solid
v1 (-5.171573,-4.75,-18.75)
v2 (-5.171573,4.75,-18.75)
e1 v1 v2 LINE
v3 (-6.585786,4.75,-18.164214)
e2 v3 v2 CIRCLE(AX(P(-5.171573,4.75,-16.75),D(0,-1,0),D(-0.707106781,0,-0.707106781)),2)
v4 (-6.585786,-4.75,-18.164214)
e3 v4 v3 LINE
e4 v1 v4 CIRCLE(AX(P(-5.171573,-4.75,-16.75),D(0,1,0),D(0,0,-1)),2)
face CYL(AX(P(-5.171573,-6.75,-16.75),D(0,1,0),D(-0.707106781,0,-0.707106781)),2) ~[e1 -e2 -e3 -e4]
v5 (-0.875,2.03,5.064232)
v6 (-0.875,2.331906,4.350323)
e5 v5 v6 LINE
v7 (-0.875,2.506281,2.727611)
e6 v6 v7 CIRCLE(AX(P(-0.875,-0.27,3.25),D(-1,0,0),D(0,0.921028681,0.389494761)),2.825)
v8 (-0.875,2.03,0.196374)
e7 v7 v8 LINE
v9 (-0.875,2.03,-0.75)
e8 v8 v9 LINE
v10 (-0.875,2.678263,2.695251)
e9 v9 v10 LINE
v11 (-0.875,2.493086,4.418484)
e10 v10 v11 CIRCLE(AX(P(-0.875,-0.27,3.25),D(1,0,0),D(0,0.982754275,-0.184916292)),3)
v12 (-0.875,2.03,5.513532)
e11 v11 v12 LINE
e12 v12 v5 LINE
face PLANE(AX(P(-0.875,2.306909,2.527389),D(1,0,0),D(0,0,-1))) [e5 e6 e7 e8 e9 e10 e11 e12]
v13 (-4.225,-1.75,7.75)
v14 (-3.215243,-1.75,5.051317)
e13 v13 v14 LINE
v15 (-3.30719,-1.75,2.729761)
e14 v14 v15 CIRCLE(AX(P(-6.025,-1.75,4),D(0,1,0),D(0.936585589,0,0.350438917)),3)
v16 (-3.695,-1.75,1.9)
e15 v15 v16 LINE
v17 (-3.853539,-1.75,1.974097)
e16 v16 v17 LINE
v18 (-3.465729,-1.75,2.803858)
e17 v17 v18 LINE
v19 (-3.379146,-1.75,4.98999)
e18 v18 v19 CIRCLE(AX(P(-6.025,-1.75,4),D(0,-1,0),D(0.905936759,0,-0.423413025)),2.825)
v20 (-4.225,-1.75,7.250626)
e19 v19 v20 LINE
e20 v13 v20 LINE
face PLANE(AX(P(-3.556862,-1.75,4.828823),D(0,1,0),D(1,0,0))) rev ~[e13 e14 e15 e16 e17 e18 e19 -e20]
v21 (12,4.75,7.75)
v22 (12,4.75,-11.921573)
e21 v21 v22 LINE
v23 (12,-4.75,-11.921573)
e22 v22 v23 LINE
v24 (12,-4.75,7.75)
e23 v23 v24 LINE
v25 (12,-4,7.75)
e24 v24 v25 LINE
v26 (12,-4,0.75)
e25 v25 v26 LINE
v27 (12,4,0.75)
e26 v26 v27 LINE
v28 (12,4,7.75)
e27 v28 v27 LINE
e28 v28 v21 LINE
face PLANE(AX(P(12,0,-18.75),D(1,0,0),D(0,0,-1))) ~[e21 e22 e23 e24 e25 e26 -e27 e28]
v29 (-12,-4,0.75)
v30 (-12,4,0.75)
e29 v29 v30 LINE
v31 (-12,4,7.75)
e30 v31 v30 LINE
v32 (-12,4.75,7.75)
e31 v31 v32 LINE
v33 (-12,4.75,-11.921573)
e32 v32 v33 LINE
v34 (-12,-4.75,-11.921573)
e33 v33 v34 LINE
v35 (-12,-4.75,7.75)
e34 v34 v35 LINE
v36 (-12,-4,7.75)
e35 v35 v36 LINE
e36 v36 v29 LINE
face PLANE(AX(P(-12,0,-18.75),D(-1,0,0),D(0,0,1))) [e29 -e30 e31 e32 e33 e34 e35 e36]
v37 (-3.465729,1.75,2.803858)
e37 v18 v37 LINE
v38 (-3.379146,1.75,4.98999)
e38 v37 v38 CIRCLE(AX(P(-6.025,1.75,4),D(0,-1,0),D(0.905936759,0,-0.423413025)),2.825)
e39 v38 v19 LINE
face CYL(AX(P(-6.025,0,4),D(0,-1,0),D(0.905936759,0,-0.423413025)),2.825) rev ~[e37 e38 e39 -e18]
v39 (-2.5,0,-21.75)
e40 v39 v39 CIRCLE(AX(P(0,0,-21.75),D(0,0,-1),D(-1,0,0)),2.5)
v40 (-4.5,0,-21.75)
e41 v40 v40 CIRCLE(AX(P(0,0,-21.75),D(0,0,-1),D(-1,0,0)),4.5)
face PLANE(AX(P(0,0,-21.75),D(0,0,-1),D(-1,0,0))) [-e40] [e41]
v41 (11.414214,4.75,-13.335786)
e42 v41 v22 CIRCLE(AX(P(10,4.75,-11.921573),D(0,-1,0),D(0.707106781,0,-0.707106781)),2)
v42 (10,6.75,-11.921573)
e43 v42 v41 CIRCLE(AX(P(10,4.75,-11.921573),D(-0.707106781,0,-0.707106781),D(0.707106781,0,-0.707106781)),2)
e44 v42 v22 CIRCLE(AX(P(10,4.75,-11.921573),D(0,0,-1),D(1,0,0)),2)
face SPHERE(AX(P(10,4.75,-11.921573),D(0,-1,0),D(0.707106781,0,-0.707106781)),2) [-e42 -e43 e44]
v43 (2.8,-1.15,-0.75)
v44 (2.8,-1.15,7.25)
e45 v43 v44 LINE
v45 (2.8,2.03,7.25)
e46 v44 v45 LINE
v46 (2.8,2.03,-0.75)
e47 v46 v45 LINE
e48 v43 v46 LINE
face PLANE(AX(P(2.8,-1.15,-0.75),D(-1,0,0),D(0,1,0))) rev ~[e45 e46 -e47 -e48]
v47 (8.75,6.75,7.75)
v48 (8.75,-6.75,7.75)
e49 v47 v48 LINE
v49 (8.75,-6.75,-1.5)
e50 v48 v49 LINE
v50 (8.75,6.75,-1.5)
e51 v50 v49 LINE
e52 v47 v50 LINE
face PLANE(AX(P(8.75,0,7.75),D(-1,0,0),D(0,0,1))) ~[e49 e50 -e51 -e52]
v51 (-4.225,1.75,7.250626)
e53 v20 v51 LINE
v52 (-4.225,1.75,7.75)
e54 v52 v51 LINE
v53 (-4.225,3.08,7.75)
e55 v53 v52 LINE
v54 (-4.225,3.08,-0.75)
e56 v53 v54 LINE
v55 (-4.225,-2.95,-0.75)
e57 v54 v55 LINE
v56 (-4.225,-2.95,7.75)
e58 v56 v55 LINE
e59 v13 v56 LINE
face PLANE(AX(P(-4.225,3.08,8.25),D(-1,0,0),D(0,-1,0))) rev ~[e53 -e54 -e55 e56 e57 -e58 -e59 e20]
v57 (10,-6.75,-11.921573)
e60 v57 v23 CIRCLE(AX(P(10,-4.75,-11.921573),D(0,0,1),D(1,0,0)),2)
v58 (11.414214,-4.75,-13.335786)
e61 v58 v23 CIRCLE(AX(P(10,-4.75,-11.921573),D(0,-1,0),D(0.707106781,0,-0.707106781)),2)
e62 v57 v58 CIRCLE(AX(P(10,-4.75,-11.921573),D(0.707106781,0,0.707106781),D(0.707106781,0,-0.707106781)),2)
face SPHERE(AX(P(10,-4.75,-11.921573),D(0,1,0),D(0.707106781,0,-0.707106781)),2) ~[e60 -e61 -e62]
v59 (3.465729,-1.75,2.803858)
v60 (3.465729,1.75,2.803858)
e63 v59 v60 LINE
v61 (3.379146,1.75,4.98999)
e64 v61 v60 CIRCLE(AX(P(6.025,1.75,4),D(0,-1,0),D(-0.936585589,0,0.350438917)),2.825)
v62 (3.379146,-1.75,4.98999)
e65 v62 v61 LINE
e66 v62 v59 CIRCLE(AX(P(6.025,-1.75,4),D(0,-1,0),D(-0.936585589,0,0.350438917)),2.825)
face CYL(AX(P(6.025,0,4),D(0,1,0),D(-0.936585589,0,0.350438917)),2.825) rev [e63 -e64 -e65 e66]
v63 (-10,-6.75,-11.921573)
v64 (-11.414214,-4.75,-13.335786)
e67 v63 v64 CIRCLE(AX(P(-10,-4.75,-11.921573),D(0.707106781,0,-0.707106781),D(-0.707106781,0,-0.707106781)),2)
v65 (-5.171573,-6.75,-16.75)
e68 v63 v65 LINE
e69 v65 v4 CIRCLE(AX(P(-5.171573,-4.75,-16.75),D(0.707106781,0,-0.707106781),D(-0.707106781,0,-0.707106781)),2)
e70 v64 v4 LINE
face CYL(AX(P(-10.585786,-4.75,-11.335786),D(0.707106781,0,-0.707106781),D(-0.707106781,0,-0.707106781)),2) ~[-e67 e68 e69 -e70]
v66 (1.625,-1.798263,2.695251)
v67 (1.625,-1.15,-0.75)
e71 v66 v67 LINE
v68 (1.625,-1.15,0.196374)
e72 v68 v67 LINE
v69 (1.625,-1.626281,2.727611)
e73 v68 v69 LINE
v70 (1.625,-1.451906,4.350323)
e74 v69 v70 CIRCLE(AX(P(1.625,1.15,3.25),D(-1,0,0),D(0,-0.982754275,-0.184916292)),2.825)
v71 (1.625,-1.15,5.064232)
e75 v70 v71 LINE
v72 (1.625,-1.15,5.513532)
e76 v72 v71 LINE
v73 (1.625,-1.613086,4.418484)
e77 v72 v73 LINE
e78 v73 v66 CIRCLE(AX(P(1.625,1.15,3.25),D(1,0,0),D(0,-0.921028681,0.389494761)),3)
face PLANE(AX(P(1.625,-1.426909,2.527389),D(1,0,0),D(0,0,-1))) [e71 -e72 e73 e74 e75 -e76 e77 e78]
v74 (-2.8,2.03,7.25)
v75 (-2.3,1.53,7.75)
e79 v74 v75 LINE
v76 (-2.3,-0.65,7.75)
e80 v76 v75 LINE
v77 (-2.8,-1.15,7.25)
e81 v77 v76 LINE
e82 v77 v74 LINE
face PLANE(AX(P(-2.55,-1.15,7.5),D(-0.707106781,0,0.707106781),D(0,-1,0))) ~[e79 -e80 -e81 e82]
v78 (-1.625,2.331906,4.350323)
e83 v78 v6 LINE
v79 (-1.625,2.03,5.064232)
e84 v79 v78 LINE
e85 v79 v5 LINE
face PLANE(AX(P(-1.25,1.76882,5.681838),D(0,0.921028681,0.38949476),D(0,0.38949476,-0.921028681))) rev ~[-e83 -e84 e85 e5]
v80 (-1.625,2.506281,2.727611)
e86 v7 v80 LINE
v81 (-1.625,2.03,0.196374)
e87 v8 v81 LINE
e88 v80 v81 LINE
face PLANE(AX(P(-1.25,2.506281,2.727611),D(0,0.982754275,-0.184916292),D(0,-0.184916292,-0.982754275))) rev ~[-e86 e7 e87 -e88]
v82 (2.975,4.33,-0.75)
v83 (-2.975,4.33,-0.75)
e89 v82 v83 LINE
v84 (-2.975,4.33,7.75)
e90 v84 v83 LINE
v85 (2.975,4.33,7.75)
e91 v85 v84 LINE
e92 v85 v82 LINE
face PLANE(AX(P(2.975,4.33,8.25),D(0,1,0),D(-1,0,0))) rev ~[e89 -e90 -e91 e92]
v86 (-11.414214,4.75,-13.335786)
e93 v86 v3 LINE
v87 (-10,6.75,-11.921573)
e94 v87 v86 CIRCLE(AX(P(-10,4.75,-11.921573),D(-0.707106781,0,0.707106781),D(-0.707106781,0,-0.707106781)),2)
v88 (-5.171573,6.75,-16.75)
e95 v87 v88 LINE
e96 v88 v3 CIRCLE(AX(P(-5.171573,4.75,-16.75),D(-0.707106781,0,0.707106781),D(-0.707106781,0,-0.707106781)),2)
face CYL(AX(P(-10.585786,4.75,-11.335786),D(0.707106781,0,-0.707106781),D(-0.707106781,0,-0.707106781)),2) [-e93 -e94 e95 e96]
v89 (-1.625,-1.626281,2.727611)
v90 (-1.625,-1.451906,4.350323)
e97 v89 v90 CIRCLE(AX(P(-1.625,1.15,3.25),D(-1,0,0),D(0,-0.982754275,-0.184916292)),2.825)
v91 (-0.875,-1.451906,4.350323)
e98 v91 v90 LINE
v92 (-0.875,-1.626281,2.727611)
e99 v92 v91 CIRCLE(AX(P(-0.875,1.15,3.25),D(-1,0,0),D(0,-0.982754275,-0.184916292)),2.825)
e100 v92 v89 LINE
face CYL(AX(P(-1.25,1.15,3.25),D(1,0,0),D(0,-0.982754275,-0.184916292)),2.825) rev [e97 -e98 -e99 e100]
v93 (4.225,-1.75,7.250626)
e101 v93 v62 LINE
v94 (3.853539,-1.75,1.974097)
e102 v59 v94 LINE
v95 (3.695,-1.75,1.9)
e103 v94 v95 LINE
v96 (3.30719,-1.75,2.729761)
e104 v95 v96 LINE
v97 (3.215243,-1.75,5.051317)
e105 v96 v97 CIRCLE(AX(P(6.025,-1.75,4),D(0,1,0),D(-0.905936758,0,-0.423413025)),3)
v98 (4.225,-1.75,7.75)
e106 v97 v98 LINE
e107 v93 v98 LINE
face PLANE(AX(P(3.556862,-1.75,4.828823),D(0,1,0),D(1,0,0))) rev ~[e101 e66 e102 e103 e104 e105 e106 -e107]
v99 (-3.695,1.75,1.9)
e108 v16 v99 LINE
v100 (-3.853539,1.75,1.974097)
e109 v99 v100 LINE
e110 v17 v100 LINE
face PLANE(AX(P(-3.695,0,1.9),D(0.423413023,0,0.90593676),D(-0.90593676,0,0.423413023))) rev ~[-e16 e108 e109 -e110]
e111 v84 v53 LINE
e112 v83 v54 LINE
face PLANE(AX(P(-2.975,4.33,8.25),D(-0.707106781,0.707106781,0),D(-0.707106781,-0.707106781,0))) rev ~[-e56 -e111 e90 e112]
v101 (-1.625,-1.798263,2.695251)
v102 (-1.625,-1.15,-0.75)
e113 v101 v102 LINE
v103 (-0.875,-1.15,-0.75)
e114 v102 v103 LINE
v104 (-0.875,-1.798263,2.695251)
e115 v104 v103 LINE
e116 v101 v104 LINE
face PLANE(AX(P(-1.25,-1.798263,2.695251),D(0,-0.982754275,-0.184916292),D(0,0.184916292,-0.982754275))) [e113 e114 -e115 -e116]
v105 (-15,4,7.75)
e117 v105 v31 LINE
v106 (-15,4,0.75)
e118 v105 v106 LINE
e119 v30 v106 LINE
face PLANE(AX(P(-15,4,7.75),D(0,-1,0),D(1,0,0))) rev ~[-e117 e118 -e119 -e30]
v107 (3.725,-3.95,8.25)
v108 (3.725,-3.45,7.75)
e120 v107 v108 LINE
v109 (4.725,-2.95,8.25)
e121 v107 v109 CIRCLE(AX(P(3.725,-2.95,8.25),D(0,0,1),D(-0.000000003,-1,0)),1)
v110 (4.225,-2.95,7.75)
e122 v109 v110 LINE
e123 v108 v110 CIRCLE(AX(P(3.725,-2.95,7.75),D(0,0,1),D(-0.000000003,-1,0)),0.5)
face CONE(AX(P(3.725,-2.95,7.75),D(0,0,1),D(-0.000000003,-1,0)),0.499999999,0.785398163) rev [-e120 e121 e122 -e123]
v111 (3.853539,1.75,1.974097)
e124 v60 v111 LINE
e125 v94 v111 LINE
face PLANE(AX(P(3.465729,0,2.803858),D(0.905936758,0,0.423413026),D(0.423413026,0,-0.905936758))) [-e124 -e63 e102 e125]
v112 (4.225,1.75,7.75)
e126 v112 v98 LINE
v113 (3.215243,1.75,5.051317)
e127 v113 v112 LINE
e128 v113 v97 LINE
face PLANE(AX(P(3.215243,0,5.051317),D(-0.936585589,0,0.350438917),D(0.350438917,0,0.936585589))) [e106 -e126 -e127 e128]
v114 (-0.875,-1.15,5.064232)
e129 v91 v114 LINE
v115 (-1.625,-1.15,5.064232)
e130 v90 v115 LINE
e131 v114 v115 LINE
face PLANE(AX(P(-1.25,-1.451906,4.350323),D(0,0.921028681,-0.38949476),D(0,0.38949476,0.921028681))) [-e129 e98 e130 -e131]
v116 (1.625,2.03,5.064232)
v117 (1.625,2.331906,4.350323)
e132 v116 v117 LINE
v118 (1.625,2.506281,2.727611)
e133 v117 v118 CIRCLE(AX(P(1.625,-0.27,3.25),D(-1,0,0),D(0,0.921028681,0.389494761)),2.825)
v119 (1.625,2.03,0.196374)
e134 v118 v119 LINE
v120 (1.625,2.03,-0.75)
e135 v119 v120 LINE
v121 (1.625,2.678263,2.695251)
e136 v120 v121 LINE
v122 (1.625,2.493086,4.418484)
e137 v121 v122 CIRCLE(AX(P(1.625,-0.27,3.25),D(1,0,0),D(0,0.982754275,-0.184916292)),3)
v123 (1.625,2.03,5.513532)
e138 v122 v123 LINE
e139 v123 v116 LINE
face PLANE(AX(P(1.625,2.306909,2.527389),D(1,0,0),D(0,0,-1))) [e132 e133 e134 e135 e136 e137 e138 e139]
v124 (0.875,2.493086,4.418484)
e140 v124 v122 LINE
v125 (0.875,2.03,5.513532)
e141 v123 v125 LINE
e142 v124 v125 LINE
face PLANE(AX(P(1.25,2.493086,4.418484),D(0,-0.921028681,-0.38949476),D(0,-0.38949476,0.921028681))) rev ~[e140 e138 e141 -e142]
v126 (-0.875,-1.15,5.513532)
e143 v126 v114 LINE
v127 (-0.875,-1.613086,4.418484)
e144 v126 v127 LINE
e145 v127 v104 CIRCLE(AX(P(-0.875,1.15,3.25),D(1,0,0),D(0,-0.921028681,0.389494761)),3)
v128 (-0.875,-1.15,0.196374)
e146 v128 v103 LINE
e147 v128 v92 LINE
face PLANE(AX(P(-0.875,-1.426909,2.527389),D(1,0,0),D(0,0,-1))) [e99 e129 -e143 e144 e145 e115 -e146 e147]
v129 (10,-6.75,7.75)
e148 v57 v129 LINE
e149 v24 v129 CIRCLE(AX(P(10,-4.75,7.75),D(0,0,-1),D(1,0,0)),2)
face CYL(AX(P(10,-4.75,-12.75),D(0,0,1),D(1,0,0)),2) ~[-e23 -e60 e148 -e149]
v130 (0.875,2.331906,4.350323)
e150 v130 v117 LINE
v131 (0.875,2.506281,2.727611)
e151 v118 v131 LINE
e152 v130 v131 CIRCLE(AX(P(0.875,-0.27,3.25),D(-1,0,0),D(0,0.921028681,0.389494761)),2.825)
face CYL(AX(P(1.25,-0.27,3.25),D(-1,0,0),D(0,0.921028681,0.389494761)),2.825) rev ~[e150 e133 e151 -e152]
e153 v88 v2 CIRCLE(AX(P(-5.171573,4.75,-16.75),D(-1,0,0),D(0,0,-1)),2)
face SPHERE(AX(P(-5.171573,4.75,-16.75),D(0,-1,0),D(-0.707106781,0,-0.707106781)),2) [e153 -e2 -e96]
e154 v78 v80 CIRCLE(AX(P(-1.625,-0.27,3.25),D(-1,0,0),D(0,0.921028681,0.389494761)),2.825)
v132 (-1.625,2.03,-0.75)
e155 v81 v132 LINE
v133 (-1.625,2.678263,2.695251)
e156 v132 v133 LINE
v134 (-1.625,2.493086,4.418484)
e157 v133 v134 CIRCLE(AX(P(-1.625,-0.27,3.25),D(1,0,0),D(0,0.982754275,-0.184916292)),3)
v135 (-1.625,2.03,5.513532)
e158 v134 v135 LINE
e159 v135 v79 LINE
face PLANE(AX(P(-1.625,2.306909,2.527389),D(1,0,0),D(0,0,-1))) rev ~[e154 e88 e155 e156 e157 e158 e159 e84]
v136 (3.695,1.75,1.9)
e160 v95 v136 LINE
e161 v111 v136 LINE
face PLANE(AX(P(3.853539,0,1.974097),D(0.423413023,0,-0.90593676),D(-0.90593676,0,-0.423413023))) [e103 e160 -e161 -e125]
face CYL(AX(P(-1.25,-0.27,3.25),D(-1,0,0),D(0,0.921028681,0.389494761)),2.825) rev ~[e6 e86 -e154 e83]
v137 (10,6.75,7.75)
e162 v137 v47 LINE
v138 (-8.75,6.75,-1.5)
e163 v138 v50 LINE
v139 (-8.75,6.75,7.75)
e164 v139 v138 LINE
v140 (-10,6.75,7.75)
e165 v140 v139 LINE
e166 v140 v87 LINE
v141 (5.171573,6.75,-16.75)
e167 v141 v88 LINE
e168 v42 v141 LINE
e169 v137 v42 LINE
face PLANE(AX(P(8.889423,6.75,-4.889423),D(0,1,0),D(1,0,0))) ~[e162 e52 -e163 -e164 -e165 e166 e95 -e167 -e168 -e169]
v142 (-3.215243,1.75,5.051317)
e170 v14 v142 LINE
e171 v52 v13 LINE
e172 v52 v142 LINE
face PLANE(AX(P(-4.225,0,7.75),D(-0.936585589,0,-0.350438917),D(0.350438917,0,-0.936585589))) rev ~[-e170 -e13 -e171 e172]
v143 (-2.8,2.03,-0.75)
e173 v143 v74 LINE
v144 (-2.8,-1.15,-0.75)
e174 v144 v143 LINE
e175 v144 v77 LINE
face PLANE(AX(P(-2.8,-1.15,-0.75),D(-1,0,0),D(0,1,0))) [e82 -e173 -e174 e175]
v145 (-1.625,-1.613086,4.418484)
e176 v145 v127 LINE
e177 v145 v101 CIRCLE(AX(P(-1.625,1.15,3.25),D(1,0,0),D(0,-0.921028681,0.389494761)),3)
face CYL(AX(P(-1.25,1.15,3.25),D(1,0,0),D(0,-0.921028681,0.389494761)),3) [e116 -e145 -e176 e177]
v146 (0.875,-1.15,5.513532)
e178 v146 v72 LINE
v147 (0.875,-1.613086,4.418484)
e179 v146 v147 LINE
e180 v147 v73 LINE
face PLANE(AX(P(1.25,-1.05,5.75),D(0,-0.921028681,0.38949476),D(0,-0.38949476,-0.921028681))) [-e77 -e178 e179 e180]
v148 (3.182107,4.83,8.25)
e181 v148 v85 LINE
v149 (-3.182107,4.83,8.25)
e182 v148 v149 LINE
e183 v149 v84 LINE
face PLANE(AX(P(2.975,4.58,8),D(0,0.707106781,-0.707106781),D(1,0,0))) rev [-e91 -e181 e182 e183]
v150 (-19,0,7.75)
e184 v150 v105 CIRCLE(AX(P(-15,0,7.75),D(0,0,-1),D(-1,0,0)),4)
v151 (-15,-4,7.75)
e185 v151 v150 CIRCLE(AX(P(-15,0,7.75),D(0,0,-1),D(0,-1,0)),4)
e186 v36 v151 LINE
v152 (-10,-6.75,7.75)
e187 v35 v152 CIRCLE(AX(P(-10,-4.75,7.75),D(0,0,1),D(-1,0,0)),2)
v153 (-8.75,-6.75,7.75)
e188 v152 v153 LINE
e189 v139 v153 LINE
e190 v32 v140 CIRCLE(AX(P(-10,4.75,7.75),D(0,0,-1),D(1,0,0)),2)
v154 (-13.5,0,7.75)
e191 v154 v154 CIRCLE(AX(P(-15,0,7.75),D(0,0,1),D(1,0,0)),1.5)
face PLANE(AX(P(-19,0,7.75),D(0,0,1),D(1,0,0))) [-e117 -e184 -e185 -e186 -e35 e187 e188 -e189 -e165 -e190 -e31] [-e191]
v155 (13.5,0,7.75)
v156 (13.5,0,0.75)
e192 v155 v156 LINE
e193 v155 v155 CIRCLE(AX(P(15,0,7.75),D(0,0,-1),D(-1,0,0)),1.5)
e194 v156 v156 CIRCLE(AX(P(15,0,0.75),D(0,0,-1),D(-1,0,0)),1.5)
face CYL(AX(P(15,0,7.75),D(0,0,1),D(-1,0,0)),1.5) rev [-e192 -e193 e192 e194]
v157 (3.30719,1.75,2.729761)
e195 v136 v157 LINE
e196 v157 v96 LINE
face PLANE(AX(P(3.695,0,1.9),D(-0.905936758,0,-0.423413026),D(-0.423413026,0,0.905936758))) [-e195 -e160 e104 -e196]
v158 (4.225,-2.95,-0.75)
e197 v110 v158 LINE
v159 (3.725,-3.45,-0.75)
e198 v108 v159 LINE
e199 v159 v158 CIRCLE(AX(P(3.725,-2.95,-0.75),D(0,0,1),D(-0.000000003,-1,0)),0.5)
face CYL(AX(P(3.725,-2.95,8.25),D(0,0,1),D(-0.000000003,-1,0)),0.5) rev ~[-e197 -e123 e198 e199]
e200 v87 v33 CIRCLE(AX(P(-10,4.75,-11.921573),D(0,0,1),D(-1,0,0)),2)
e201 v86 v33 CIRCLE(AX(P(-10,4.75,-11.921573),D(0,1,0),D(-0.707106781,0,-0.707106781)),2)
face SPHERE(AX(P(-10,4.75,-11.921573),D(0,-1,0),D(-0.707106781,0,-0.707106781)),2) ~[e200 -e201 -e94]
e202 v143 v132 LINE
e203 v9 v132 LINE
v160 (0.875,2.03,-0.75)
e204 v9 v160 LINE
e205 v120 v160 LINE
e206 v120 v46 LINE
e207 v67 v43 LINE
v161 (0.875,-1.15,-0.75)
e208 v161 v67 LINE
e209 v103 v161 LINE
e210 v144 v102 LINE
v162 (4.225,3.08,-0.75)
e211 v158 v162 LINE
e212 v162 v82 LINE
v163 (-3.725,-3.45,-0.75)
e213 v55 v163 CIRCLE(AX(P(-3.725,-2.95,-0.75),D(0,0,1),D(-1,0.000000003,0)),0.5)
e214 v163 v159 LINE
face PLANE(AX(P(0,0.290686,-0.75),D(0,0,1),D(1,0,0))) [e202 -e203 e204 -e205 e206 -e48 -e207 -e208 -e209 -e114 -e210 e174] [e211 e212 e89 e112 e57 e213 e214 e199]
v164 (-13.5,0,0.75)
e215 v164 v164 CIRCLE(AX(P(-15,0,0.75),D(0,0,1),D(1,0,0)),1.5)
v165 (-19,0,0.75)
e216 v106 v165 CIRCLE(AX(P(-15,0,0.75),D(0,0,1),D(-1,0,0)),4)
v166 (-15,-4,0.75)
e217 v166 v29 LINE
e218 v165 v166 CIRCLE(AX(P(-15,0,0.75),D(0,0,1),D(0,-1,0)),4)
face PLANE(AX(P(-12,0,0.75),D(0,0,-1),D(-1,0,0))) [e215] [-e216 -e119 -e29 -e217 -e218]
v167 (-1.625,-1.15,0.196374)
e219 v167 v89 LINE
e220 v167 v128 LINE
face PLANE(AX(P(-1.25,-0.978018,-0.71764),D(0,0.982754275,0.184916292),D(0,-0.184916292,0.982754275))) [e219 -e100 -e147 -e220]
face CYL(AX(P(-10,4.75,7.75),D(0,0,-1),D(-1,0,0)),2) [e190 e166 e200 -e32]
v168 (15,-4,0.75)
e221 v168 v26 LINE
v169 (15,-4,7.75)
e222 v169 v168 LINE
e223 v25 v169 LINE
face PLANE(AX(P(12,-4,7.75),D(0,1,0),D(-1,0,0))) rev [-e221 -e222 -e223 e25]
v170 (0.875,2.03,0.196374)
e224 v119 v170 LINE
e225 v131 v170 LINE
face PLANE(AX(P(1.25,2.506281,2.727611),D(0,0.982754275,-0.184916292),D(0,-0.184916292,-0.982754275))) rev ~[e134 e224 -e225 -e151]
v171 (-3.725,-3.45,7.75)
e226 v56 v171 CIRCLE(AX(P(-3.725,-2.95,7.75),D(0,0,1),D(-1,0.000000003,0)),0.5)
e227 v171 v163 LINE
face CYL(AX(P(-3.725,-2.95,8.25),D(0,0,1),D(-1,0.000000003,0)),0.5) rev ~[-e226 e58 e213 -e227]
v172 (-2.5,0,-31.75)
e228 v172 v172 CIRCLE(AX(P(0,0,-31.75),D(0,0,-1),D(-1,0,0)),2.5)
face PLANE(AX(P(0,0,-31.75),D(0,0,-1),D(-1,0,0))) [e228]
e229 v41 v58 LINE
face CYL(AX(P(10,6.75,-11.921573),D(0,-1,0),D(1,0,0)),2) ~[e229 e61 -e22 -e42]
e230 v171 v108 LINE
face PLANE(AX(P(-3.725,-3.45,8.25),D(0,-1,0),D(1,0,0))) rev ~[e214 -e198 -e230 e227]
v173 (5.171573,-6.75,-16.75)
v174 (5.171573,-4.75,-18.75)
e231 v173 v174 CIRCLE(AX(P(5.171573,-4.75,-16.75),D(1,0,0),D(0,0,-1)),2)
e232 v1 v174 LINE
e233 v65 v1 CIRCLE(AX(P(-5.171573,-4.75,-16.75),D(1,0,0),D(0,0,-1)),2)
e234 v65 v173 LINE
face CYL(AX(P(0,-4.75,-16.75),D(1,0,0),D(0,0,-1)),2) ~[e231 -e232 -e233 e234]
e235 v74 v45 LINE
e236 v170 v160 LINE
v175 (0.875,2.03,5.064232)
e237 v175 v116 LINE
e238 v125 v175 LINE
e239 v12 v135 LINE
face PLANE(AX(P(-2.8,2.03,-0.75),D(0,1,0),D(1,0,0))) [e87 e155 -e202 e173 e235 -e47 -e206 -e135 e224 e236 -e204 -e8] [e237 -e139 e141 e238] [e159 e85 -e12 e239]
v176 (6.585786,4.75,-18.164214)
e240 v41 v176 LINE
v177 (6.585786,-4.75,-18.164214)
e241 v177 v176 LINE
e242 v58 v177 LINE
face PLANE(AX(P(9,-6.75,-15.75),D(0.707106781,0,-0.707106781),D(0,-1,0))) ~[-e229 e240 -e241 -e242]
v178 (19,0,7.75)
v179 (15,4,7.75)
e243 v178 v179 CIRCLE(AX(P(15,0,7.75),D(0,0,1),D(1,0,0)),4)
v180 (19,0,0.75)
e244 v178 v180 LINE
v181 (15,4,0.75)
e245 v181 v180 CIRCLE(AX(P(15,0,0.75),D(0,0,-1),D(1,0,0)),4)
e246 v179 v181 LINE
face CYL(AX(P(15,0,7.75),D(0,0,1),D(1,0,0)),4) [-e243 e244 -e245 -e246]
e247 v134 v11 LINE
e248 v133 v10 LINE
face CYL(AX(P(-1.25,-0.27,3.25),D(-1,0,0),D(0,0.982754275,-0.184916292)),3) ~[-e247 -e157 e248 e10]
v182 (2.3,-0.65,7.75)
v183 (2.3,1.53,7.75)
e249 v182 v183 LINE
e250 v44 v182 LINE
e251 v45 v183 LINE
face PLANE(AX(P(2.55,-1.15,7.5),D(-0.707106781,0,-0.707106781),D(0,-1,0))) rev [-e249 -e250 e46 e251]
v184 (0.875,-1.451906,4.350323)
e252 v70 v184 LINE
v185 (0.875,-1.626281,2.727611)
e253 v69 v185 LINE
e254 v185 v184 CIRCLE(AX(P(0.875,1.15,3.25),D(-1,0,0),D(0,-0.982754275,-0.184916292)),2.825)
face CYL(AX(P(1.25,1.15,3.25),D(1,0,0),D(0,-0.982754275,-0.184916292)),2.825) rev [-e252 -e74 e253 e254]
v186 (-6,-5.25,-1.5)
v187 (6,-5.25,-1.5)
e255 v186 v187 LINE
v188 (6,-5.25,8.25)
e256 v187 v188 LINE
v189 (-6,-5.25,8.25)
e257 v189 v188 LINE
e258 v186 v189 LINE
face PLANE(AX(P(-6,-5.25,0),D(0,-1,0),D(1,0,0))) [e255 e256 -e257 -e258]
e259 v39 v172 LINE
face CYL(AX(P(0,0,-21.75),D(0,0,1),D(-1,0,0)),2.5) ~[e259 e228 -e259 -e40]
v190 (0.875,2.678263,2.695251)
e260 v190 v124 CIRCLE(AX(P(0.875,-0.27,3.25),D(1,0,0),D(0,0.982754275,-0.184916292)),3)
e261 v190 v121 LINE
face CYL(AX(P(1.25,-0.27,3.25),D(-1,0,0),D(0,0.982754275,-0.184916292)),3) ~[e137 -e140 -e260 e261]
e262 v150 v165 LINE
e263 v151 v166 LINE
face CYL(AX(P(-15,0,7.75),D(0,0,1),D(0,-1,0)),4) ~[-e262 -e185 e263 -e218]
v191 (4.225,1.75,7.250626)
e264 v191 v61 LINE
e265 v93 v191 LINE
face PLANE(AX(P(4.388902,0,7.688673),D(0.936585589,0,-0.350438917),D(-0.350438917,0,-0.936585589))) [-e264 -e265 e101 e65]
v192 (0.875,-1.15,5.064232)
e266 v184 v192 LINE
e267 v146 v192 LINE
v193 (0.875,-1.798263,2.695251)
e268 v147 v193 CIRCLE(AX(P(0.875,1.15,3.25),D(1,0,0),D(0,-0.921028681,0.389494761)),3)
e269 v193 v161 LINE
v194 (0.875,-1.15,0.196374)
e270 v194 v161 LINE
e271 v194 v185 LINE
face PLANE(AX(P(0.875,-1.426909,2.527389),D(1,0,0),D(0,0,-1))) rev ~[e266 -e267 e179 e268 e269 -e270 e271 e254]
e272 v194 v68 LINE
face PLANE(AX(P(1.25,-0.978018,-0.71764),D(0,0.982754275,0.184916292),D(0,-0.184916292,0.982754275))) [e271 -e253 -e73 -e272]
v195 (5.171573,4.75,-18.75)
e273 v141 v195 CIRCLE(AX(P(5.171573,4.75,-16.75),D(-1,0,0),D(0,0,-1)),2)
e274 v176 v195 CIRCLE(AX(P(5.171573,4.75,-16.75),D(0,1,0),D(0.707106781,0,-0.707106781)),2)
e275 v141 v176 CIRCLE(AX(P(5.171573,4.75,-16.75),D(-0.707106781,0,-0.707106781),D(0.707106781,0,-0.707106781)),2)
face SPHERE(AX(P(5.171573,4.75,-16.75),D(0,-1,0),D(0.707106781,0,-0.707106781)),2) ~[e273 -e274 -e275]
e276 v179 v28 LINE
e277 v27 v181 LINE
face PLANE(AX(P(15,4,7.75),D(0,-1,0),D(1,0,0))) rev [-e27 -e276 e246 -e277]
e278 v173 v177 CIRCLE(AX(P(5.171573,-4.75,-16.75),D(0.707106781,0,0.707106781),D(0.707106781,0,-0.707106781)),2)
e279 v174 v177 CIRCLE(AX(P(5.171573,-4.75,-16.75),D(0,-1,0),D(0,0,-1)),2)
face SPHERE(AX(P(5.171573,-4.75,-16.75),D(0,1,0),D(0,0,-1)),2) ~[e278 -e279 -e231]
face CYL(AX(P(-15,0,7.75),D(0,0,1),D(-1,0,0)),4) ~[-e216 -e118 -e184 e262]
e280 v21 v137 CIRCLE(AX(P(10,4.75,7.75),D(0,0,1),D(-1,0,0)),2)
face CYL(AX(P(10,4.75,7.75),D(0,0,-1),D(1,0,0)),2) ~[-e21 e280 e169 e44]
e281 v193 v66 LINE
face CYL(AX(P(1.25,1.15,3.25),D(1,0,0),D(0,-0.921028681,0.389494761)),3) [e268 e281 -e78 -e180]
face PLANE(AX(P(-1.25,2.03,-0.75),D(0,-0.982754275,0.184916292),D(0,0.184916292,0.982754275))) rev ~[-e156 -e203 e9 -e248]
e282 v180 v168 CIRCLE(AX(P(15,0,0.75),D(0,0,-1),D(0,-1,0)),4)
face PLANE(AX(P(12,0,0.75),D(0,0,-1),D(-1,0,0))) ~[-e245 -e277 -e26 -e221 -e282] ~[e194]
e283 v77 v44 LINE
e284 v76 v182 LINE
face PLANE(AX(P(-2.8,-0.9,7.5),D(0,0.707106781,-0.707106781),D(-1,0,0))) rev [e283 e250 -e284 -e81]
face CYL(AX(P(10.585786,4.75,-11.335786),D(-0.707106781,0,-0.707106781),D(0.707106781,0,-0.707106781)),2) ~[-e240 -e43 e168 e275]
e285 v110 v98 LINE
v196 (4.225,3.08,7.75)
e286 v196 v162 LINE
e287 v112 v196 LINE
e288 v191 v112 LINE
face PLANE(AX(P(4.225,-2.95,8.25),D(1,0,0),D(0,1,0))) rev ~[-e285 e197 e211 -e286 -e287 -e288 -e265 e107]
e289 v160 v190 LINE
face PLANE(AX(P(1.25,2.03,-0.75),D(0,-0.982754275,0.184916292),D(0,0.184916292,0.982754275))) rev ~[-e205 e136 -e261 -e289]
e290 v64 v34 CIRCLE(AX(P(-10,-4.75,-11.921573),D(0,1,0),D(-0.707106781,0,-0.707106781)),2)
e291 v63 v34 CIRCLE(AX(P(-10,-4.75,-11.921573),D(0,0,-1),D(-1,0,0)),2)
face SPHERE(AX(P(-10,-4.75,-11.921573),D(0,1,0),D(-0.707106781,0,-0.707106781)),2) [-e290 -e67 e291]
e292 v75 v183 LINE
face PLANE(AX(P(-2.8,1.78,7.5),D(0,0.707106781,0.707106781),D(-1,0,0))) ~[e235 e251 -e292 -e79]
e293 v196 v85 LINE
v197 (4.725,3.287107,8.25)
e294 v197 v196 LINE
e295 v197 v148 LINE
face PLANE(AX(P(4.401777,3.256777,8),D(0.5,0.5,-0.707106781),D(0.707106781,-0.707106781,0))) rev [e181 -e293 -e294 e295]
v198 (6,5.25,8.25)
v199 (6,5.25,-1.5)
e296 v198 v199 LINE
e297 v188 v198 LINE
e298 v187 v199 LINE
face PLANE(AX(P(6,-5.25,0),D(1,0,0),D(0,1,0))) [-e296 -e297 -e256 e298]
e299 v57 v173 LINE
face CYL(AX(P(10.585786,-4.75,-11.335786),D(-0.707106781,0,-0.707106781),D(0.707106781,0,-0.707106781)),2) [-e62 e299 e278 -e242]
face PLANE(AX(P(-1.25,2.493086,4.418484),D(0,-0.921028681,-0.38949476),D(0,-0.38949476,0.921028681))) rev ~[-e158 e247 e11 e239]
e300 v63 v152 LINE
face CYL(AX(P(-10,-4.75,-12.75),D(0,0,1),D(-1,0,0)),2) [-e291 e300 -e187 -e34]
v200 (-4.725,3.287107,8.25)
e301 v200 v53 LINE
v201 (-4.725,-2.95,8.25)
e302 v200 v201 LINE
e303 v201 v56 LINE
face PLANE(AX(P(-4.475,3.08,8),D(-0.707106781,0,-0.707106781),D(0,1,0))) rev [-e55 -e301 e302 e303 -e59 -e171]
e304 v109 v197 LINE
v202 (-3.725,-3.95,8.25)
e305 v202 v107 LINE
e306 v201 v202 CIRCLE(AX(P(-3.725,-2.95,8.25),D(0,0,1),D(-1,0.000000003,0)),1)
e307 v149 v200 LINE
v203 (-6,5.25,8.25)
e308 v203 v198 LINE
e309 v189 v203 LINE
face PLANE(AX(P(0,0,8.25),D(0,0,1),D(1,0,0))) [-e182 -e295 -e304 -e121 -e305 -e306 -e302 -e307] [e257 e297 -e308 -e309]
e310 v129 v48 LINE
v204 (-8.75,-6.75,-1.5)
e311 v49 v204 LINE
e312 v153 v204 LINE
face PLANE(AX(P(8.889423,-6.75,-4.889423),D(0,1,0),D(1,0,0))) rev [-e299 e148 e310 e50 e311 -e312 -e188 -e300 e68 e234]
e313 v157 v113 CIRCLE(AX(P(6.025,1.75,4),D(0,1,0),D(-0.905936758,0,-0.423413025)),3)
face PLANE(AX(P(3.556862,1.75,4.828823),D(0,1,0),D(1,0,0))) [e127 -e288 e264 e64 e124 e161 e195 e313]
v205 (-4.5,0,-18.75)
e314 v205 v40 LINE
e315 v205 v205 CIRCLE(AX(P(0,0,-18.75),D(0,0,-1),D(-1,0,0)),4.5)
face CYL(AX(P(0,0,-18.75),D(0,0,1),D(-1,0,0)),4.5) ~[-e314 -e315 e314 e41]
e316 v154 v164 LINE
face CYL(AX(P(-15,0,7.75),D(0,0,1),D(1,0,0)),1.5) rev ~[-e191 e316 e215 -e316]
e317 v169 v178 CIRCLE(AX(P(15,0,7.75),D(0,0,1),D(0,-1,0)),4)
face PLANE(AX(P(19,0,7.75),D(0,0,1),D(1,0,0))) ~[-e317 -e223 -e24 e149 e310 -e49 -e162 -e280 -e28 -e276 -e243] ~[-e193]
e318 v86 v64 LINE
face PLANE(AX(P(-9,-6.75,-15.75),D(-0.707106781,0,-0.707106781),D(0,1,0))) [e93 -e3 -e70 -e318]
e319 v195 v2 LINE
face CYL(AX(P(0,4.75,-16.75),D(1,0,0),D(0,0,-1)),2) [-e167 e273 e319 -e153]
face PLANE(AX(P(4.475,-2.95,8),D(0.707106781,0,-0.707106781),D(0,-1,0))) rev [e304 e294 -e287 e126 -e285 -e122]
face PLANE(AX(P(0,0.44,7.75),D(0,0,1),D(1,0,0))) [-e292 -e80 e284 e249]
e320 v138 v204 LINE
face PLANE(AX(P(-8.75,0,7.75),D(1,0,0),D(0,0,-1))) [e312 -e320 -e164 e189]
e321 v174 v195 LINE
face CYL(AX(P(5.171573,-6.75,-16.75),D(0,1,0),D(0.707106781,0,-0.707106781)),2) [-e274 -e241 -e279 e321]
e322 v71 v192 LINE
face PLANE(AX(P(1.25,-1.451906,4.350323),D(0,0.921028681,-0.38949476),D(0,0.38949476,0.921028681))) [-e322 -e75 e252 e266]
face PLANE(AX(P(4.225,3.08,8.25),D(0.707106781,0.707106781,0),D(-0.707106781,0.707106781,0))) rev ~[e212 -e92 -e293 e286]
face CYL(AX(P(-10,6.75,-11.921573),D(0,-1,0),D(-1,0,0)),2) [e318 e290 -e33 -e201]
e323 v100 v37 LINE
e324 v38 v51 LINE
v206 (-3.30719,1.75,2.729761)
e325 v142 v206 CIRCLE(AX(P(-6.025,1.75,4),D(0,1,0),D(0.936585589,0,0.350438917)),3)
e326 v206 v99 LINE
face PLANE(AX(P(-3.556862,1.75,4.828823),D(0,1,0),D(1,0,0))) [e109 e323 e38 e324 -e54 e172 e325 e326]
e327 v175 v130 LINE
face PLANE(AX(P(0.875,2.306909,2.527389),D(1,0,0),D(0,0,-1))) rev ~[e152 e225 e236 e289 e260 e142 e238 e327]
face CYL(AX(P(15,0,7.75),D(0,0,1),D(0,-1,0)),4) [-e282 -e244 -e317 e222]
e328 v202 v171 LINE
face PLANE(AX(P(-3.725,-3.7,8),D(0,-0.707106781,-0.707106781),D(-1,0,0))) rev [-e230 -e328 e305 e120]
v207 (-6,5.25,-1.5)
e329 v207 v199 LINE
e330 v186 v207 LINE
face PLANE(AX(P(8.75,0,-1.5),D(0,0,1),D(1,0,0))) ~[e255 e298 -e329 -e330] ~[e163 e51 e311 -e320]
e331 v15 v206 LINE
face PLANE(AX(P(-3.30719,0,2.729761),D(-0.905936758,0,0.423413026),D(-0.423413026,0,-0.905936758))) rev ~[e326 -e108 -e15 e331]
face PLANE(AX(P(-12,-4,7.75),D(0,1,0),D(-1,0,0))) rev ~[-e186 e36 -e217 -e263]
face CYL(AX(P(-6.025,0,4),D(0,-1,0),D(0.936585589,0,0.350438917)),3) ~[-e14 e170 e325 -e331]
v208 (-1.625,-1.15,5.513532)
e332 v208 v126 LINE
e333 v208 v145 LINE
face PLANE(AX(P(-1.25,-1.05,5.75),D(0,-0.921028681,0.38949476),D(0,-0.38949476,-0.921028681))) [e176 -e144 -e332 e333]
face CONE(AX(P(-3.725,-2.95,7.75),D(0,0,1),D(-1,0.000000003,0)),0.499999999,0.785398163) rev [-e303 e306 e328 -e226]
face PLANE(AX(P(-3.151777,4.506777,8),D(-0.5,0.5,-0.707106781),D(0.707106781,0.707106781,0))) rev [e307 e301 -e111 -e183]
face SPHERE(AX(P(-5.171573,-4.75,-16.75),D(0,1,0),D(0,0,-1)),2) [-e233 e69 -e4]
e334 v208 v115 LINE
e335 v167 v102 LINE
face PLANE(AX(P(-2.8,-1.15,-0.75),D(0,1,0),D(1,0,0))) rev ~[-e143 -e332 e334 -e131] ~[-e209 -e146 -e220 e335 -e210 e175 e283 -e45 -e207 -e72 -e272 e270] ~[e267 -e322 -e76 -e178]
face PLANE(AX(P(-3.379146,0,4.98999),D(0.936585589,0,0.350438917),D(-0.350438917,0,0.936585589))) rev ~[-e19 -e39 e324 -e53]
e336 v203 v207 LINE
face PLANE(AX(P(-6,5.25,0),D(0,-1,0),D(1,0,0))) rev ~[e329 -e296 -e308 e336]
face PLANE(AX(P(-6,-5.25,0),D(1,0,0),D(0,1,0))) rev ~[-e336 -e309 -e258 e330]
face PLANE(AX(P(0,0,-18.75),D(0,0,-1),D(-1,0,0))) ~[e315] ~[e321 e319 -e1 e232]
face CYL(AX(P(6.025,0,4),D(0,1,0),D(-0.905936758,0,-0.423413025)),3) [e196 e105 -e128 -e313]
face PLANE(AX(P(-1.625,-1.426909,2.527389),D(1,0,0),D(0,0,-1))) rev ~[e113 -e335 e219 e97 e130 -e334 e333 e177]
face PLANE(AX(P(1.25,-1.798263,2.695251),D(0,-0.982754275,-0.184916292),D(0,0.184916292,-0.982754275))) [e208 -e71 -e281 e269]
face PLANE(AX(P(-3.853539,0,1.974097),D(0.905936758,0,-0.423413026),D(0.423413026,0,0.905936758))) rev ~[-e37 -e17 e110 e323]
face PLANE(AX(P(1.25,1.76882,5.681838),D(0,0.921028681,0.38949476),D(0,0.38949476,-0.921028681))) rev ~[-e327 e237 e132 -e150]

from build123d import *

# Parameters (mm, degrees)
SKETCH1_W                    = 12
SKETCH1_H                    = 10.5
BASE_DEPTH                   = 8.25
CONTACT_OPENING_DEPTH        = 9
CONTACT_OPENING_LEAD_IN_SIZE = 0.5
SKETCH3_W                    = 5.6
SKETCH3_H                    = 3.18
CONTACT_AREA_DEPTH           = 8.5
CONTACT_AREA_LEAD_IN_SIZE    = 0.5
HOLDING_TINES_DEPTH          = 1.75
CONTACT_DEPTH                = 0.375
CONTACT_PATTERN_COUNT        = 2
CONTACT_PATTERN_PITCH        = 2.5
BOSS_EXTRUDE1_DEPTH          = 6.75
CHAMFER1_SIZE                = 6
SKETCH17_R                   = 1.5
CUT_EXTRUDE1_DEPTH           = 27.5
CUT_EXTRUDE2_DEPTH           = 27.5
FILLET1_R                    = 2
SKETCH20_R                   = 4.5
BOSS_EXTRUDE2_DEPTH          = 3
SKETCH21_R                   = 2.5
BOSS_EXTRUDE3_DEPTH          = 10


with BuildPart() as part:
    # Sketch1 → Base (new body, symmetric)
    with BuildSketch(Plane.XY):
        Rectangle(SKETCH1_W, SKETCH1_H)
    extrude(amount=BASE_DEPTH, both=True)

    # Sketch2 → Contact Opening (cut)
    with BuildSketch(Plane.XY.offset(8.25)):
        with BuildLine():
            Line((-2.975, 4.33), (-4.225, 3.08))
            Line((-4.225, 3.08), (-4.225, -2.95))
            ThreePointArc((-4.225, -2.95), (-4.078553391, -3.303553391), (-3.725, -3.45))
            Line((-3.725, -3.45), (3.725, -3.45))
            ThreePointArc((3.725, -3.45), (4.078553391, -3.303553391), (4.225, -2.95))
            Line((4.225, -2.95), (4.225, 3.08))
            Line((4.225, 3.08), (2.975, 4.33))
            Line((2.975, 4.33), (-2.975, 4.33))
        make_face()
    extrude(amount=-CONTACT_OPENING_DEPTH, mode=Mode.SUBTRACT)

    # Contact Opening Lead-in
    contact_opening_lead_in_edges = [part.edges().sort_by_distance(p)[0] for p in [
        (0, 4.33, 8.25),
        (-3.6, 3.705, 8.25),
        (-4.225, 0.065, 8.25),
        (-4.078553391, -3.303553391, 8.25),
        (0, -3.45, 8.25),
        (4.078553391, -3.303553391, 8.25),
        (4.225, 0.065, 8.25),
        (3.6, 3.705, 8.25),
    ]]
    chamfer(contact_opening_lead_in_edges, length=CONTACT_OPENING_LEAD_IN_SIZE)

    # Sketch3 → Contact Area (add)
    with BuildSketch(Plane.XY.offset(-0.75)):
        with Locations((0, 0.44)):
            Rectangle(SKETCH3_W, SKETCH3_H)
    extrude(amount=CONTACT_AREA_DEPTH)

    # Contact Area Lead-in
    contact_area_lead_in_edges = [part.edges().sort_by_distance(p)[0] for p in [
        (-2.8, 0.44, 7.75),
        (0, -1.15, 7.75),
        (2.8, 0.44, 7.75),
        (0, 2.03, 7.75),
    ]]
    chamfer(contact_area_lead_in_edges, length=CONTACT_AREA_LEAD_IN_SIZE)

    # Sketch7 → Holding Tines (add, symmetric)
    with BuildSketch(Plane(origin=(0, 0, 0), x_dir=(1, 0, 0), z_dir=(0, 1, 0))):
        with BuildLine():
            Line((-4.225, -7.75), (-3.215243234, -5.051316752))
            ThreePointArc((-3.215243234, -5.051316752), (-3.027350135, -3.881276433), (-3.307189725, -2.729760924))
            Line((-3.307189725, -2.729760924), (-3.695, -1.9))
            Line((-3.695, -1.9), (-3.853538933, -1.974097279))
            Line((-3.853538933, -1.974097279), (-3.465728658, -2.803858203))
            ThreePointArc((-3.465728658, -2.803858203), (-3.202213044, -3.888201975), (-3.379145712, -4.989989942))
            Line((-3.379145712, -4.989989942), (-4.388902478, -7.688673189))
            Line((-4.388902478, -7.688673189), (-4.225, -7.75))
        make_face()
        with BuildLine():
            Line((4.225, -7.75), (4.388902478, -7.688673189))
            Line((4.388902478, -7.688673189), (3.379145712, -4.989989942))
            ThreePointArc((3.379145712, -4.989989942), (3.202213044, -3.888201975), (3.465728658, -2.803858203))
            Line((3.465728658, -2.803858203), (3.853538933, -1.974097279))
            Line((3.853538933, -1.974097279), (3.695, -1.9))
            Line((3.695, -1.9), (3.307189725, -2.729760924))
            ThreePointArc((3.307189725, -2.729760924), (3.027350135, -3.881276433), (3.215243234, -5.051316752))
            Line((3.215243234, -5.051316752), (4.225, -7.75))
        make_face()
    extrude(amount=HOLDING_TINES_DEPTH, both=True)

    # Sketch8 → Contact (add, symmetric)
    with BuildSketch(Plane(origin=(-1.25, 0, 0), x_dir=(0, 0, -1), z_dir=(1, 0, 0))):
        with BuildLine():
            Line((0.75, 2.03), (-2.695251124, 2.678262825))
            ThreePointArc((-2.695251124, 2.678262825), (-3.57053143, 2.712827451), (-4.418484282, 2.493086043))
            Line((-4.418484282, 2.493086043), (-5.75, 1.93))
            Line((-5.75, 1.93), (-5.681838417, 1.768819981))
            Line((-5.681838417, 1.768819981), (-4.350322699, 2.331906024))
            ThreePointArc((-4.350322699, 2.331906024), (-3.551833763, 2.538829183), (-2.727611475, 2.506280827))
            Line((-2.727611475, 2.506280827), (0.717639649, 1.858018002))
            Line((0.717639649, 1.858018002), (0.75, 2.03))
        make_face()
        with BuildLine():
            Line((-5.681838417, -0.888819981), (-5.75, -1.05))
            Line((-5.75, -1.05), (-4.418484282, -1.613086043))
            ThreePointArc((-4.418484282, -1.613086043), (-3.57053143, -1.832827451), (-2.695251124, -1.798262825))
            Line((-2.695251124, -1.798262825), (0.75, -1.15))
            Line((0.75, -1.15), (0.717639649, -0.978018002))
            Line((0.717639649, -0.978018002), (-2.727611475, -1.626280827))
            ThreePointArc((-2.727611475, -1.626280827), (-3.551833763, -1.658829183), (-4.350322699, -1.451906024))
            Line((-4.350322699, -1.451906024), (-5.681838417, -0.888819981))
        make_face()
    contact = extrude(amount=CONTACT_DEPTH, both=True)

    # Contact Pattern: Contact ×2
    with Locations(*[(i * CONTACT_PATTERN_PITCH, 0, 0) for i in range(1, CONTACT_PATTERN_COUNT)]):
        add(contact)


with BuildPart() as body_2:
    # Sketch16 → Boss-Extrude1 (new body, symmetric)
    with BuildSketch(Plane(origin=(0, 0, 0), x_dir=(1, 0, 0), z_dir=(0, 1, 0))):
        Polygon((-8.75, 1.5), (0, 1.5), (0, 18.75), (-12, 18.75), (-12, -0.75), (-19, -0.75), (-19, -7.75), (-8.75, -7.75), align=None)
    extrude(amount=BOSS_EXTRUDE1_DEPTH, both=True)

    # Chamfer1
    chamfer1_edges = [body_2.edges().sort_by_distance(p)[0] for p in [
        (-12, 0, -18.75),
    ]]
    chamfer(chamfer1_edges, length=CHAMFER1_SIZE)

    # Sketch17 → Cut-Extrude1 (cut, through all)
    with BuildSketch(Plane.XY.offset(7.75)):
        with Locations((-15, 0)):
            Circle(SKETCH17_R)
    extrude(amount=-CUT_EXTRUDE1_DEPTH, mode=Mode.SUBTRACT)

    # Sketch18 → Cut-Extrude2 (cut, through all)
    with BuildSketch(Plane.XY.offset(7.75)):
        with BuildLine():
            ThreePointArc((-19, 0), (-17.828427125, 2.828427125), (-15, 4))
            Line((-15, 4), (-12, 4))
            Line((-12, 4), (-12, 6.75))
            Line((-12, 6.75), (-19, 6.75))
            Line((-19, 6.75), (-19, 0))
        make_face()
        with BuildLine():
            ThreePointArc((-15, -4), (-17.828427125, -2.828427125), (-19, 0))
            Line((-19, 0), (-19, -6.75))
            Line((-19, -6.75), (-12, -6.75))
            Line((-12, -6.75), (-12, -4))
            Line((-12, -4), (-15, -4))
        make_face()
    extrude(amount=-CUT_EXTRUDE2_DEPTH, mode=Mode.SUBTRACT)

    # Fillet1
    fillet1_edges = [body_2.edges().sort_by_distance(p)[0] for p in [
        (-3, 6.75, -18.75),
        (-12, -6.75, -2.5),
        (-12, 6.75, -2.5),
        (-12, 0, -12.75),
        (-9, -6.75, -15.75),
        (-6, 0, -18.75),
        (-9, 6.75, -15.75),
        (-3, -6.75, -18.75),
    ]]
    fillet(fillet1_edges, radius=FILLET1_R)

    # Mirror1: body 2 across plane


with BuildPart() as body_2_1:
    add(body_2.part)
    add(body_2.part.mirror(Plane(origin=(0, 6.75, -18.75), x_dir=(0, 0, 1), z_dir=(-1, 0, 0))))

    # Sketch20 → Boss-Extrude2 (add)
    with BuildSketch(Plane(origin=(0, 0, -18.75), x_dir=(-1, 0, 0), z_dir=(0, 0, -1))):
        Circle(SKETCH20_R)
    extrude(amount=BOSS_EXTRUDE2_DEPTH)

    # Sketch21 → Boss-Extrude3 (add)
    with BuildSketch(Plane(origin=(0, 0, -21.75), x_dir=(-1, 0, 0), z_dir=(0, 0, -1))):
        Circle(SKETCH21_R)
    extrude(amount=BOSS_EXTRUDE3_DEPTH)


with BuildPart() as part_1:
    add(part.part)

    # Combine1: union body 2
    add(body_2_1.part)


solid = part_1.part
